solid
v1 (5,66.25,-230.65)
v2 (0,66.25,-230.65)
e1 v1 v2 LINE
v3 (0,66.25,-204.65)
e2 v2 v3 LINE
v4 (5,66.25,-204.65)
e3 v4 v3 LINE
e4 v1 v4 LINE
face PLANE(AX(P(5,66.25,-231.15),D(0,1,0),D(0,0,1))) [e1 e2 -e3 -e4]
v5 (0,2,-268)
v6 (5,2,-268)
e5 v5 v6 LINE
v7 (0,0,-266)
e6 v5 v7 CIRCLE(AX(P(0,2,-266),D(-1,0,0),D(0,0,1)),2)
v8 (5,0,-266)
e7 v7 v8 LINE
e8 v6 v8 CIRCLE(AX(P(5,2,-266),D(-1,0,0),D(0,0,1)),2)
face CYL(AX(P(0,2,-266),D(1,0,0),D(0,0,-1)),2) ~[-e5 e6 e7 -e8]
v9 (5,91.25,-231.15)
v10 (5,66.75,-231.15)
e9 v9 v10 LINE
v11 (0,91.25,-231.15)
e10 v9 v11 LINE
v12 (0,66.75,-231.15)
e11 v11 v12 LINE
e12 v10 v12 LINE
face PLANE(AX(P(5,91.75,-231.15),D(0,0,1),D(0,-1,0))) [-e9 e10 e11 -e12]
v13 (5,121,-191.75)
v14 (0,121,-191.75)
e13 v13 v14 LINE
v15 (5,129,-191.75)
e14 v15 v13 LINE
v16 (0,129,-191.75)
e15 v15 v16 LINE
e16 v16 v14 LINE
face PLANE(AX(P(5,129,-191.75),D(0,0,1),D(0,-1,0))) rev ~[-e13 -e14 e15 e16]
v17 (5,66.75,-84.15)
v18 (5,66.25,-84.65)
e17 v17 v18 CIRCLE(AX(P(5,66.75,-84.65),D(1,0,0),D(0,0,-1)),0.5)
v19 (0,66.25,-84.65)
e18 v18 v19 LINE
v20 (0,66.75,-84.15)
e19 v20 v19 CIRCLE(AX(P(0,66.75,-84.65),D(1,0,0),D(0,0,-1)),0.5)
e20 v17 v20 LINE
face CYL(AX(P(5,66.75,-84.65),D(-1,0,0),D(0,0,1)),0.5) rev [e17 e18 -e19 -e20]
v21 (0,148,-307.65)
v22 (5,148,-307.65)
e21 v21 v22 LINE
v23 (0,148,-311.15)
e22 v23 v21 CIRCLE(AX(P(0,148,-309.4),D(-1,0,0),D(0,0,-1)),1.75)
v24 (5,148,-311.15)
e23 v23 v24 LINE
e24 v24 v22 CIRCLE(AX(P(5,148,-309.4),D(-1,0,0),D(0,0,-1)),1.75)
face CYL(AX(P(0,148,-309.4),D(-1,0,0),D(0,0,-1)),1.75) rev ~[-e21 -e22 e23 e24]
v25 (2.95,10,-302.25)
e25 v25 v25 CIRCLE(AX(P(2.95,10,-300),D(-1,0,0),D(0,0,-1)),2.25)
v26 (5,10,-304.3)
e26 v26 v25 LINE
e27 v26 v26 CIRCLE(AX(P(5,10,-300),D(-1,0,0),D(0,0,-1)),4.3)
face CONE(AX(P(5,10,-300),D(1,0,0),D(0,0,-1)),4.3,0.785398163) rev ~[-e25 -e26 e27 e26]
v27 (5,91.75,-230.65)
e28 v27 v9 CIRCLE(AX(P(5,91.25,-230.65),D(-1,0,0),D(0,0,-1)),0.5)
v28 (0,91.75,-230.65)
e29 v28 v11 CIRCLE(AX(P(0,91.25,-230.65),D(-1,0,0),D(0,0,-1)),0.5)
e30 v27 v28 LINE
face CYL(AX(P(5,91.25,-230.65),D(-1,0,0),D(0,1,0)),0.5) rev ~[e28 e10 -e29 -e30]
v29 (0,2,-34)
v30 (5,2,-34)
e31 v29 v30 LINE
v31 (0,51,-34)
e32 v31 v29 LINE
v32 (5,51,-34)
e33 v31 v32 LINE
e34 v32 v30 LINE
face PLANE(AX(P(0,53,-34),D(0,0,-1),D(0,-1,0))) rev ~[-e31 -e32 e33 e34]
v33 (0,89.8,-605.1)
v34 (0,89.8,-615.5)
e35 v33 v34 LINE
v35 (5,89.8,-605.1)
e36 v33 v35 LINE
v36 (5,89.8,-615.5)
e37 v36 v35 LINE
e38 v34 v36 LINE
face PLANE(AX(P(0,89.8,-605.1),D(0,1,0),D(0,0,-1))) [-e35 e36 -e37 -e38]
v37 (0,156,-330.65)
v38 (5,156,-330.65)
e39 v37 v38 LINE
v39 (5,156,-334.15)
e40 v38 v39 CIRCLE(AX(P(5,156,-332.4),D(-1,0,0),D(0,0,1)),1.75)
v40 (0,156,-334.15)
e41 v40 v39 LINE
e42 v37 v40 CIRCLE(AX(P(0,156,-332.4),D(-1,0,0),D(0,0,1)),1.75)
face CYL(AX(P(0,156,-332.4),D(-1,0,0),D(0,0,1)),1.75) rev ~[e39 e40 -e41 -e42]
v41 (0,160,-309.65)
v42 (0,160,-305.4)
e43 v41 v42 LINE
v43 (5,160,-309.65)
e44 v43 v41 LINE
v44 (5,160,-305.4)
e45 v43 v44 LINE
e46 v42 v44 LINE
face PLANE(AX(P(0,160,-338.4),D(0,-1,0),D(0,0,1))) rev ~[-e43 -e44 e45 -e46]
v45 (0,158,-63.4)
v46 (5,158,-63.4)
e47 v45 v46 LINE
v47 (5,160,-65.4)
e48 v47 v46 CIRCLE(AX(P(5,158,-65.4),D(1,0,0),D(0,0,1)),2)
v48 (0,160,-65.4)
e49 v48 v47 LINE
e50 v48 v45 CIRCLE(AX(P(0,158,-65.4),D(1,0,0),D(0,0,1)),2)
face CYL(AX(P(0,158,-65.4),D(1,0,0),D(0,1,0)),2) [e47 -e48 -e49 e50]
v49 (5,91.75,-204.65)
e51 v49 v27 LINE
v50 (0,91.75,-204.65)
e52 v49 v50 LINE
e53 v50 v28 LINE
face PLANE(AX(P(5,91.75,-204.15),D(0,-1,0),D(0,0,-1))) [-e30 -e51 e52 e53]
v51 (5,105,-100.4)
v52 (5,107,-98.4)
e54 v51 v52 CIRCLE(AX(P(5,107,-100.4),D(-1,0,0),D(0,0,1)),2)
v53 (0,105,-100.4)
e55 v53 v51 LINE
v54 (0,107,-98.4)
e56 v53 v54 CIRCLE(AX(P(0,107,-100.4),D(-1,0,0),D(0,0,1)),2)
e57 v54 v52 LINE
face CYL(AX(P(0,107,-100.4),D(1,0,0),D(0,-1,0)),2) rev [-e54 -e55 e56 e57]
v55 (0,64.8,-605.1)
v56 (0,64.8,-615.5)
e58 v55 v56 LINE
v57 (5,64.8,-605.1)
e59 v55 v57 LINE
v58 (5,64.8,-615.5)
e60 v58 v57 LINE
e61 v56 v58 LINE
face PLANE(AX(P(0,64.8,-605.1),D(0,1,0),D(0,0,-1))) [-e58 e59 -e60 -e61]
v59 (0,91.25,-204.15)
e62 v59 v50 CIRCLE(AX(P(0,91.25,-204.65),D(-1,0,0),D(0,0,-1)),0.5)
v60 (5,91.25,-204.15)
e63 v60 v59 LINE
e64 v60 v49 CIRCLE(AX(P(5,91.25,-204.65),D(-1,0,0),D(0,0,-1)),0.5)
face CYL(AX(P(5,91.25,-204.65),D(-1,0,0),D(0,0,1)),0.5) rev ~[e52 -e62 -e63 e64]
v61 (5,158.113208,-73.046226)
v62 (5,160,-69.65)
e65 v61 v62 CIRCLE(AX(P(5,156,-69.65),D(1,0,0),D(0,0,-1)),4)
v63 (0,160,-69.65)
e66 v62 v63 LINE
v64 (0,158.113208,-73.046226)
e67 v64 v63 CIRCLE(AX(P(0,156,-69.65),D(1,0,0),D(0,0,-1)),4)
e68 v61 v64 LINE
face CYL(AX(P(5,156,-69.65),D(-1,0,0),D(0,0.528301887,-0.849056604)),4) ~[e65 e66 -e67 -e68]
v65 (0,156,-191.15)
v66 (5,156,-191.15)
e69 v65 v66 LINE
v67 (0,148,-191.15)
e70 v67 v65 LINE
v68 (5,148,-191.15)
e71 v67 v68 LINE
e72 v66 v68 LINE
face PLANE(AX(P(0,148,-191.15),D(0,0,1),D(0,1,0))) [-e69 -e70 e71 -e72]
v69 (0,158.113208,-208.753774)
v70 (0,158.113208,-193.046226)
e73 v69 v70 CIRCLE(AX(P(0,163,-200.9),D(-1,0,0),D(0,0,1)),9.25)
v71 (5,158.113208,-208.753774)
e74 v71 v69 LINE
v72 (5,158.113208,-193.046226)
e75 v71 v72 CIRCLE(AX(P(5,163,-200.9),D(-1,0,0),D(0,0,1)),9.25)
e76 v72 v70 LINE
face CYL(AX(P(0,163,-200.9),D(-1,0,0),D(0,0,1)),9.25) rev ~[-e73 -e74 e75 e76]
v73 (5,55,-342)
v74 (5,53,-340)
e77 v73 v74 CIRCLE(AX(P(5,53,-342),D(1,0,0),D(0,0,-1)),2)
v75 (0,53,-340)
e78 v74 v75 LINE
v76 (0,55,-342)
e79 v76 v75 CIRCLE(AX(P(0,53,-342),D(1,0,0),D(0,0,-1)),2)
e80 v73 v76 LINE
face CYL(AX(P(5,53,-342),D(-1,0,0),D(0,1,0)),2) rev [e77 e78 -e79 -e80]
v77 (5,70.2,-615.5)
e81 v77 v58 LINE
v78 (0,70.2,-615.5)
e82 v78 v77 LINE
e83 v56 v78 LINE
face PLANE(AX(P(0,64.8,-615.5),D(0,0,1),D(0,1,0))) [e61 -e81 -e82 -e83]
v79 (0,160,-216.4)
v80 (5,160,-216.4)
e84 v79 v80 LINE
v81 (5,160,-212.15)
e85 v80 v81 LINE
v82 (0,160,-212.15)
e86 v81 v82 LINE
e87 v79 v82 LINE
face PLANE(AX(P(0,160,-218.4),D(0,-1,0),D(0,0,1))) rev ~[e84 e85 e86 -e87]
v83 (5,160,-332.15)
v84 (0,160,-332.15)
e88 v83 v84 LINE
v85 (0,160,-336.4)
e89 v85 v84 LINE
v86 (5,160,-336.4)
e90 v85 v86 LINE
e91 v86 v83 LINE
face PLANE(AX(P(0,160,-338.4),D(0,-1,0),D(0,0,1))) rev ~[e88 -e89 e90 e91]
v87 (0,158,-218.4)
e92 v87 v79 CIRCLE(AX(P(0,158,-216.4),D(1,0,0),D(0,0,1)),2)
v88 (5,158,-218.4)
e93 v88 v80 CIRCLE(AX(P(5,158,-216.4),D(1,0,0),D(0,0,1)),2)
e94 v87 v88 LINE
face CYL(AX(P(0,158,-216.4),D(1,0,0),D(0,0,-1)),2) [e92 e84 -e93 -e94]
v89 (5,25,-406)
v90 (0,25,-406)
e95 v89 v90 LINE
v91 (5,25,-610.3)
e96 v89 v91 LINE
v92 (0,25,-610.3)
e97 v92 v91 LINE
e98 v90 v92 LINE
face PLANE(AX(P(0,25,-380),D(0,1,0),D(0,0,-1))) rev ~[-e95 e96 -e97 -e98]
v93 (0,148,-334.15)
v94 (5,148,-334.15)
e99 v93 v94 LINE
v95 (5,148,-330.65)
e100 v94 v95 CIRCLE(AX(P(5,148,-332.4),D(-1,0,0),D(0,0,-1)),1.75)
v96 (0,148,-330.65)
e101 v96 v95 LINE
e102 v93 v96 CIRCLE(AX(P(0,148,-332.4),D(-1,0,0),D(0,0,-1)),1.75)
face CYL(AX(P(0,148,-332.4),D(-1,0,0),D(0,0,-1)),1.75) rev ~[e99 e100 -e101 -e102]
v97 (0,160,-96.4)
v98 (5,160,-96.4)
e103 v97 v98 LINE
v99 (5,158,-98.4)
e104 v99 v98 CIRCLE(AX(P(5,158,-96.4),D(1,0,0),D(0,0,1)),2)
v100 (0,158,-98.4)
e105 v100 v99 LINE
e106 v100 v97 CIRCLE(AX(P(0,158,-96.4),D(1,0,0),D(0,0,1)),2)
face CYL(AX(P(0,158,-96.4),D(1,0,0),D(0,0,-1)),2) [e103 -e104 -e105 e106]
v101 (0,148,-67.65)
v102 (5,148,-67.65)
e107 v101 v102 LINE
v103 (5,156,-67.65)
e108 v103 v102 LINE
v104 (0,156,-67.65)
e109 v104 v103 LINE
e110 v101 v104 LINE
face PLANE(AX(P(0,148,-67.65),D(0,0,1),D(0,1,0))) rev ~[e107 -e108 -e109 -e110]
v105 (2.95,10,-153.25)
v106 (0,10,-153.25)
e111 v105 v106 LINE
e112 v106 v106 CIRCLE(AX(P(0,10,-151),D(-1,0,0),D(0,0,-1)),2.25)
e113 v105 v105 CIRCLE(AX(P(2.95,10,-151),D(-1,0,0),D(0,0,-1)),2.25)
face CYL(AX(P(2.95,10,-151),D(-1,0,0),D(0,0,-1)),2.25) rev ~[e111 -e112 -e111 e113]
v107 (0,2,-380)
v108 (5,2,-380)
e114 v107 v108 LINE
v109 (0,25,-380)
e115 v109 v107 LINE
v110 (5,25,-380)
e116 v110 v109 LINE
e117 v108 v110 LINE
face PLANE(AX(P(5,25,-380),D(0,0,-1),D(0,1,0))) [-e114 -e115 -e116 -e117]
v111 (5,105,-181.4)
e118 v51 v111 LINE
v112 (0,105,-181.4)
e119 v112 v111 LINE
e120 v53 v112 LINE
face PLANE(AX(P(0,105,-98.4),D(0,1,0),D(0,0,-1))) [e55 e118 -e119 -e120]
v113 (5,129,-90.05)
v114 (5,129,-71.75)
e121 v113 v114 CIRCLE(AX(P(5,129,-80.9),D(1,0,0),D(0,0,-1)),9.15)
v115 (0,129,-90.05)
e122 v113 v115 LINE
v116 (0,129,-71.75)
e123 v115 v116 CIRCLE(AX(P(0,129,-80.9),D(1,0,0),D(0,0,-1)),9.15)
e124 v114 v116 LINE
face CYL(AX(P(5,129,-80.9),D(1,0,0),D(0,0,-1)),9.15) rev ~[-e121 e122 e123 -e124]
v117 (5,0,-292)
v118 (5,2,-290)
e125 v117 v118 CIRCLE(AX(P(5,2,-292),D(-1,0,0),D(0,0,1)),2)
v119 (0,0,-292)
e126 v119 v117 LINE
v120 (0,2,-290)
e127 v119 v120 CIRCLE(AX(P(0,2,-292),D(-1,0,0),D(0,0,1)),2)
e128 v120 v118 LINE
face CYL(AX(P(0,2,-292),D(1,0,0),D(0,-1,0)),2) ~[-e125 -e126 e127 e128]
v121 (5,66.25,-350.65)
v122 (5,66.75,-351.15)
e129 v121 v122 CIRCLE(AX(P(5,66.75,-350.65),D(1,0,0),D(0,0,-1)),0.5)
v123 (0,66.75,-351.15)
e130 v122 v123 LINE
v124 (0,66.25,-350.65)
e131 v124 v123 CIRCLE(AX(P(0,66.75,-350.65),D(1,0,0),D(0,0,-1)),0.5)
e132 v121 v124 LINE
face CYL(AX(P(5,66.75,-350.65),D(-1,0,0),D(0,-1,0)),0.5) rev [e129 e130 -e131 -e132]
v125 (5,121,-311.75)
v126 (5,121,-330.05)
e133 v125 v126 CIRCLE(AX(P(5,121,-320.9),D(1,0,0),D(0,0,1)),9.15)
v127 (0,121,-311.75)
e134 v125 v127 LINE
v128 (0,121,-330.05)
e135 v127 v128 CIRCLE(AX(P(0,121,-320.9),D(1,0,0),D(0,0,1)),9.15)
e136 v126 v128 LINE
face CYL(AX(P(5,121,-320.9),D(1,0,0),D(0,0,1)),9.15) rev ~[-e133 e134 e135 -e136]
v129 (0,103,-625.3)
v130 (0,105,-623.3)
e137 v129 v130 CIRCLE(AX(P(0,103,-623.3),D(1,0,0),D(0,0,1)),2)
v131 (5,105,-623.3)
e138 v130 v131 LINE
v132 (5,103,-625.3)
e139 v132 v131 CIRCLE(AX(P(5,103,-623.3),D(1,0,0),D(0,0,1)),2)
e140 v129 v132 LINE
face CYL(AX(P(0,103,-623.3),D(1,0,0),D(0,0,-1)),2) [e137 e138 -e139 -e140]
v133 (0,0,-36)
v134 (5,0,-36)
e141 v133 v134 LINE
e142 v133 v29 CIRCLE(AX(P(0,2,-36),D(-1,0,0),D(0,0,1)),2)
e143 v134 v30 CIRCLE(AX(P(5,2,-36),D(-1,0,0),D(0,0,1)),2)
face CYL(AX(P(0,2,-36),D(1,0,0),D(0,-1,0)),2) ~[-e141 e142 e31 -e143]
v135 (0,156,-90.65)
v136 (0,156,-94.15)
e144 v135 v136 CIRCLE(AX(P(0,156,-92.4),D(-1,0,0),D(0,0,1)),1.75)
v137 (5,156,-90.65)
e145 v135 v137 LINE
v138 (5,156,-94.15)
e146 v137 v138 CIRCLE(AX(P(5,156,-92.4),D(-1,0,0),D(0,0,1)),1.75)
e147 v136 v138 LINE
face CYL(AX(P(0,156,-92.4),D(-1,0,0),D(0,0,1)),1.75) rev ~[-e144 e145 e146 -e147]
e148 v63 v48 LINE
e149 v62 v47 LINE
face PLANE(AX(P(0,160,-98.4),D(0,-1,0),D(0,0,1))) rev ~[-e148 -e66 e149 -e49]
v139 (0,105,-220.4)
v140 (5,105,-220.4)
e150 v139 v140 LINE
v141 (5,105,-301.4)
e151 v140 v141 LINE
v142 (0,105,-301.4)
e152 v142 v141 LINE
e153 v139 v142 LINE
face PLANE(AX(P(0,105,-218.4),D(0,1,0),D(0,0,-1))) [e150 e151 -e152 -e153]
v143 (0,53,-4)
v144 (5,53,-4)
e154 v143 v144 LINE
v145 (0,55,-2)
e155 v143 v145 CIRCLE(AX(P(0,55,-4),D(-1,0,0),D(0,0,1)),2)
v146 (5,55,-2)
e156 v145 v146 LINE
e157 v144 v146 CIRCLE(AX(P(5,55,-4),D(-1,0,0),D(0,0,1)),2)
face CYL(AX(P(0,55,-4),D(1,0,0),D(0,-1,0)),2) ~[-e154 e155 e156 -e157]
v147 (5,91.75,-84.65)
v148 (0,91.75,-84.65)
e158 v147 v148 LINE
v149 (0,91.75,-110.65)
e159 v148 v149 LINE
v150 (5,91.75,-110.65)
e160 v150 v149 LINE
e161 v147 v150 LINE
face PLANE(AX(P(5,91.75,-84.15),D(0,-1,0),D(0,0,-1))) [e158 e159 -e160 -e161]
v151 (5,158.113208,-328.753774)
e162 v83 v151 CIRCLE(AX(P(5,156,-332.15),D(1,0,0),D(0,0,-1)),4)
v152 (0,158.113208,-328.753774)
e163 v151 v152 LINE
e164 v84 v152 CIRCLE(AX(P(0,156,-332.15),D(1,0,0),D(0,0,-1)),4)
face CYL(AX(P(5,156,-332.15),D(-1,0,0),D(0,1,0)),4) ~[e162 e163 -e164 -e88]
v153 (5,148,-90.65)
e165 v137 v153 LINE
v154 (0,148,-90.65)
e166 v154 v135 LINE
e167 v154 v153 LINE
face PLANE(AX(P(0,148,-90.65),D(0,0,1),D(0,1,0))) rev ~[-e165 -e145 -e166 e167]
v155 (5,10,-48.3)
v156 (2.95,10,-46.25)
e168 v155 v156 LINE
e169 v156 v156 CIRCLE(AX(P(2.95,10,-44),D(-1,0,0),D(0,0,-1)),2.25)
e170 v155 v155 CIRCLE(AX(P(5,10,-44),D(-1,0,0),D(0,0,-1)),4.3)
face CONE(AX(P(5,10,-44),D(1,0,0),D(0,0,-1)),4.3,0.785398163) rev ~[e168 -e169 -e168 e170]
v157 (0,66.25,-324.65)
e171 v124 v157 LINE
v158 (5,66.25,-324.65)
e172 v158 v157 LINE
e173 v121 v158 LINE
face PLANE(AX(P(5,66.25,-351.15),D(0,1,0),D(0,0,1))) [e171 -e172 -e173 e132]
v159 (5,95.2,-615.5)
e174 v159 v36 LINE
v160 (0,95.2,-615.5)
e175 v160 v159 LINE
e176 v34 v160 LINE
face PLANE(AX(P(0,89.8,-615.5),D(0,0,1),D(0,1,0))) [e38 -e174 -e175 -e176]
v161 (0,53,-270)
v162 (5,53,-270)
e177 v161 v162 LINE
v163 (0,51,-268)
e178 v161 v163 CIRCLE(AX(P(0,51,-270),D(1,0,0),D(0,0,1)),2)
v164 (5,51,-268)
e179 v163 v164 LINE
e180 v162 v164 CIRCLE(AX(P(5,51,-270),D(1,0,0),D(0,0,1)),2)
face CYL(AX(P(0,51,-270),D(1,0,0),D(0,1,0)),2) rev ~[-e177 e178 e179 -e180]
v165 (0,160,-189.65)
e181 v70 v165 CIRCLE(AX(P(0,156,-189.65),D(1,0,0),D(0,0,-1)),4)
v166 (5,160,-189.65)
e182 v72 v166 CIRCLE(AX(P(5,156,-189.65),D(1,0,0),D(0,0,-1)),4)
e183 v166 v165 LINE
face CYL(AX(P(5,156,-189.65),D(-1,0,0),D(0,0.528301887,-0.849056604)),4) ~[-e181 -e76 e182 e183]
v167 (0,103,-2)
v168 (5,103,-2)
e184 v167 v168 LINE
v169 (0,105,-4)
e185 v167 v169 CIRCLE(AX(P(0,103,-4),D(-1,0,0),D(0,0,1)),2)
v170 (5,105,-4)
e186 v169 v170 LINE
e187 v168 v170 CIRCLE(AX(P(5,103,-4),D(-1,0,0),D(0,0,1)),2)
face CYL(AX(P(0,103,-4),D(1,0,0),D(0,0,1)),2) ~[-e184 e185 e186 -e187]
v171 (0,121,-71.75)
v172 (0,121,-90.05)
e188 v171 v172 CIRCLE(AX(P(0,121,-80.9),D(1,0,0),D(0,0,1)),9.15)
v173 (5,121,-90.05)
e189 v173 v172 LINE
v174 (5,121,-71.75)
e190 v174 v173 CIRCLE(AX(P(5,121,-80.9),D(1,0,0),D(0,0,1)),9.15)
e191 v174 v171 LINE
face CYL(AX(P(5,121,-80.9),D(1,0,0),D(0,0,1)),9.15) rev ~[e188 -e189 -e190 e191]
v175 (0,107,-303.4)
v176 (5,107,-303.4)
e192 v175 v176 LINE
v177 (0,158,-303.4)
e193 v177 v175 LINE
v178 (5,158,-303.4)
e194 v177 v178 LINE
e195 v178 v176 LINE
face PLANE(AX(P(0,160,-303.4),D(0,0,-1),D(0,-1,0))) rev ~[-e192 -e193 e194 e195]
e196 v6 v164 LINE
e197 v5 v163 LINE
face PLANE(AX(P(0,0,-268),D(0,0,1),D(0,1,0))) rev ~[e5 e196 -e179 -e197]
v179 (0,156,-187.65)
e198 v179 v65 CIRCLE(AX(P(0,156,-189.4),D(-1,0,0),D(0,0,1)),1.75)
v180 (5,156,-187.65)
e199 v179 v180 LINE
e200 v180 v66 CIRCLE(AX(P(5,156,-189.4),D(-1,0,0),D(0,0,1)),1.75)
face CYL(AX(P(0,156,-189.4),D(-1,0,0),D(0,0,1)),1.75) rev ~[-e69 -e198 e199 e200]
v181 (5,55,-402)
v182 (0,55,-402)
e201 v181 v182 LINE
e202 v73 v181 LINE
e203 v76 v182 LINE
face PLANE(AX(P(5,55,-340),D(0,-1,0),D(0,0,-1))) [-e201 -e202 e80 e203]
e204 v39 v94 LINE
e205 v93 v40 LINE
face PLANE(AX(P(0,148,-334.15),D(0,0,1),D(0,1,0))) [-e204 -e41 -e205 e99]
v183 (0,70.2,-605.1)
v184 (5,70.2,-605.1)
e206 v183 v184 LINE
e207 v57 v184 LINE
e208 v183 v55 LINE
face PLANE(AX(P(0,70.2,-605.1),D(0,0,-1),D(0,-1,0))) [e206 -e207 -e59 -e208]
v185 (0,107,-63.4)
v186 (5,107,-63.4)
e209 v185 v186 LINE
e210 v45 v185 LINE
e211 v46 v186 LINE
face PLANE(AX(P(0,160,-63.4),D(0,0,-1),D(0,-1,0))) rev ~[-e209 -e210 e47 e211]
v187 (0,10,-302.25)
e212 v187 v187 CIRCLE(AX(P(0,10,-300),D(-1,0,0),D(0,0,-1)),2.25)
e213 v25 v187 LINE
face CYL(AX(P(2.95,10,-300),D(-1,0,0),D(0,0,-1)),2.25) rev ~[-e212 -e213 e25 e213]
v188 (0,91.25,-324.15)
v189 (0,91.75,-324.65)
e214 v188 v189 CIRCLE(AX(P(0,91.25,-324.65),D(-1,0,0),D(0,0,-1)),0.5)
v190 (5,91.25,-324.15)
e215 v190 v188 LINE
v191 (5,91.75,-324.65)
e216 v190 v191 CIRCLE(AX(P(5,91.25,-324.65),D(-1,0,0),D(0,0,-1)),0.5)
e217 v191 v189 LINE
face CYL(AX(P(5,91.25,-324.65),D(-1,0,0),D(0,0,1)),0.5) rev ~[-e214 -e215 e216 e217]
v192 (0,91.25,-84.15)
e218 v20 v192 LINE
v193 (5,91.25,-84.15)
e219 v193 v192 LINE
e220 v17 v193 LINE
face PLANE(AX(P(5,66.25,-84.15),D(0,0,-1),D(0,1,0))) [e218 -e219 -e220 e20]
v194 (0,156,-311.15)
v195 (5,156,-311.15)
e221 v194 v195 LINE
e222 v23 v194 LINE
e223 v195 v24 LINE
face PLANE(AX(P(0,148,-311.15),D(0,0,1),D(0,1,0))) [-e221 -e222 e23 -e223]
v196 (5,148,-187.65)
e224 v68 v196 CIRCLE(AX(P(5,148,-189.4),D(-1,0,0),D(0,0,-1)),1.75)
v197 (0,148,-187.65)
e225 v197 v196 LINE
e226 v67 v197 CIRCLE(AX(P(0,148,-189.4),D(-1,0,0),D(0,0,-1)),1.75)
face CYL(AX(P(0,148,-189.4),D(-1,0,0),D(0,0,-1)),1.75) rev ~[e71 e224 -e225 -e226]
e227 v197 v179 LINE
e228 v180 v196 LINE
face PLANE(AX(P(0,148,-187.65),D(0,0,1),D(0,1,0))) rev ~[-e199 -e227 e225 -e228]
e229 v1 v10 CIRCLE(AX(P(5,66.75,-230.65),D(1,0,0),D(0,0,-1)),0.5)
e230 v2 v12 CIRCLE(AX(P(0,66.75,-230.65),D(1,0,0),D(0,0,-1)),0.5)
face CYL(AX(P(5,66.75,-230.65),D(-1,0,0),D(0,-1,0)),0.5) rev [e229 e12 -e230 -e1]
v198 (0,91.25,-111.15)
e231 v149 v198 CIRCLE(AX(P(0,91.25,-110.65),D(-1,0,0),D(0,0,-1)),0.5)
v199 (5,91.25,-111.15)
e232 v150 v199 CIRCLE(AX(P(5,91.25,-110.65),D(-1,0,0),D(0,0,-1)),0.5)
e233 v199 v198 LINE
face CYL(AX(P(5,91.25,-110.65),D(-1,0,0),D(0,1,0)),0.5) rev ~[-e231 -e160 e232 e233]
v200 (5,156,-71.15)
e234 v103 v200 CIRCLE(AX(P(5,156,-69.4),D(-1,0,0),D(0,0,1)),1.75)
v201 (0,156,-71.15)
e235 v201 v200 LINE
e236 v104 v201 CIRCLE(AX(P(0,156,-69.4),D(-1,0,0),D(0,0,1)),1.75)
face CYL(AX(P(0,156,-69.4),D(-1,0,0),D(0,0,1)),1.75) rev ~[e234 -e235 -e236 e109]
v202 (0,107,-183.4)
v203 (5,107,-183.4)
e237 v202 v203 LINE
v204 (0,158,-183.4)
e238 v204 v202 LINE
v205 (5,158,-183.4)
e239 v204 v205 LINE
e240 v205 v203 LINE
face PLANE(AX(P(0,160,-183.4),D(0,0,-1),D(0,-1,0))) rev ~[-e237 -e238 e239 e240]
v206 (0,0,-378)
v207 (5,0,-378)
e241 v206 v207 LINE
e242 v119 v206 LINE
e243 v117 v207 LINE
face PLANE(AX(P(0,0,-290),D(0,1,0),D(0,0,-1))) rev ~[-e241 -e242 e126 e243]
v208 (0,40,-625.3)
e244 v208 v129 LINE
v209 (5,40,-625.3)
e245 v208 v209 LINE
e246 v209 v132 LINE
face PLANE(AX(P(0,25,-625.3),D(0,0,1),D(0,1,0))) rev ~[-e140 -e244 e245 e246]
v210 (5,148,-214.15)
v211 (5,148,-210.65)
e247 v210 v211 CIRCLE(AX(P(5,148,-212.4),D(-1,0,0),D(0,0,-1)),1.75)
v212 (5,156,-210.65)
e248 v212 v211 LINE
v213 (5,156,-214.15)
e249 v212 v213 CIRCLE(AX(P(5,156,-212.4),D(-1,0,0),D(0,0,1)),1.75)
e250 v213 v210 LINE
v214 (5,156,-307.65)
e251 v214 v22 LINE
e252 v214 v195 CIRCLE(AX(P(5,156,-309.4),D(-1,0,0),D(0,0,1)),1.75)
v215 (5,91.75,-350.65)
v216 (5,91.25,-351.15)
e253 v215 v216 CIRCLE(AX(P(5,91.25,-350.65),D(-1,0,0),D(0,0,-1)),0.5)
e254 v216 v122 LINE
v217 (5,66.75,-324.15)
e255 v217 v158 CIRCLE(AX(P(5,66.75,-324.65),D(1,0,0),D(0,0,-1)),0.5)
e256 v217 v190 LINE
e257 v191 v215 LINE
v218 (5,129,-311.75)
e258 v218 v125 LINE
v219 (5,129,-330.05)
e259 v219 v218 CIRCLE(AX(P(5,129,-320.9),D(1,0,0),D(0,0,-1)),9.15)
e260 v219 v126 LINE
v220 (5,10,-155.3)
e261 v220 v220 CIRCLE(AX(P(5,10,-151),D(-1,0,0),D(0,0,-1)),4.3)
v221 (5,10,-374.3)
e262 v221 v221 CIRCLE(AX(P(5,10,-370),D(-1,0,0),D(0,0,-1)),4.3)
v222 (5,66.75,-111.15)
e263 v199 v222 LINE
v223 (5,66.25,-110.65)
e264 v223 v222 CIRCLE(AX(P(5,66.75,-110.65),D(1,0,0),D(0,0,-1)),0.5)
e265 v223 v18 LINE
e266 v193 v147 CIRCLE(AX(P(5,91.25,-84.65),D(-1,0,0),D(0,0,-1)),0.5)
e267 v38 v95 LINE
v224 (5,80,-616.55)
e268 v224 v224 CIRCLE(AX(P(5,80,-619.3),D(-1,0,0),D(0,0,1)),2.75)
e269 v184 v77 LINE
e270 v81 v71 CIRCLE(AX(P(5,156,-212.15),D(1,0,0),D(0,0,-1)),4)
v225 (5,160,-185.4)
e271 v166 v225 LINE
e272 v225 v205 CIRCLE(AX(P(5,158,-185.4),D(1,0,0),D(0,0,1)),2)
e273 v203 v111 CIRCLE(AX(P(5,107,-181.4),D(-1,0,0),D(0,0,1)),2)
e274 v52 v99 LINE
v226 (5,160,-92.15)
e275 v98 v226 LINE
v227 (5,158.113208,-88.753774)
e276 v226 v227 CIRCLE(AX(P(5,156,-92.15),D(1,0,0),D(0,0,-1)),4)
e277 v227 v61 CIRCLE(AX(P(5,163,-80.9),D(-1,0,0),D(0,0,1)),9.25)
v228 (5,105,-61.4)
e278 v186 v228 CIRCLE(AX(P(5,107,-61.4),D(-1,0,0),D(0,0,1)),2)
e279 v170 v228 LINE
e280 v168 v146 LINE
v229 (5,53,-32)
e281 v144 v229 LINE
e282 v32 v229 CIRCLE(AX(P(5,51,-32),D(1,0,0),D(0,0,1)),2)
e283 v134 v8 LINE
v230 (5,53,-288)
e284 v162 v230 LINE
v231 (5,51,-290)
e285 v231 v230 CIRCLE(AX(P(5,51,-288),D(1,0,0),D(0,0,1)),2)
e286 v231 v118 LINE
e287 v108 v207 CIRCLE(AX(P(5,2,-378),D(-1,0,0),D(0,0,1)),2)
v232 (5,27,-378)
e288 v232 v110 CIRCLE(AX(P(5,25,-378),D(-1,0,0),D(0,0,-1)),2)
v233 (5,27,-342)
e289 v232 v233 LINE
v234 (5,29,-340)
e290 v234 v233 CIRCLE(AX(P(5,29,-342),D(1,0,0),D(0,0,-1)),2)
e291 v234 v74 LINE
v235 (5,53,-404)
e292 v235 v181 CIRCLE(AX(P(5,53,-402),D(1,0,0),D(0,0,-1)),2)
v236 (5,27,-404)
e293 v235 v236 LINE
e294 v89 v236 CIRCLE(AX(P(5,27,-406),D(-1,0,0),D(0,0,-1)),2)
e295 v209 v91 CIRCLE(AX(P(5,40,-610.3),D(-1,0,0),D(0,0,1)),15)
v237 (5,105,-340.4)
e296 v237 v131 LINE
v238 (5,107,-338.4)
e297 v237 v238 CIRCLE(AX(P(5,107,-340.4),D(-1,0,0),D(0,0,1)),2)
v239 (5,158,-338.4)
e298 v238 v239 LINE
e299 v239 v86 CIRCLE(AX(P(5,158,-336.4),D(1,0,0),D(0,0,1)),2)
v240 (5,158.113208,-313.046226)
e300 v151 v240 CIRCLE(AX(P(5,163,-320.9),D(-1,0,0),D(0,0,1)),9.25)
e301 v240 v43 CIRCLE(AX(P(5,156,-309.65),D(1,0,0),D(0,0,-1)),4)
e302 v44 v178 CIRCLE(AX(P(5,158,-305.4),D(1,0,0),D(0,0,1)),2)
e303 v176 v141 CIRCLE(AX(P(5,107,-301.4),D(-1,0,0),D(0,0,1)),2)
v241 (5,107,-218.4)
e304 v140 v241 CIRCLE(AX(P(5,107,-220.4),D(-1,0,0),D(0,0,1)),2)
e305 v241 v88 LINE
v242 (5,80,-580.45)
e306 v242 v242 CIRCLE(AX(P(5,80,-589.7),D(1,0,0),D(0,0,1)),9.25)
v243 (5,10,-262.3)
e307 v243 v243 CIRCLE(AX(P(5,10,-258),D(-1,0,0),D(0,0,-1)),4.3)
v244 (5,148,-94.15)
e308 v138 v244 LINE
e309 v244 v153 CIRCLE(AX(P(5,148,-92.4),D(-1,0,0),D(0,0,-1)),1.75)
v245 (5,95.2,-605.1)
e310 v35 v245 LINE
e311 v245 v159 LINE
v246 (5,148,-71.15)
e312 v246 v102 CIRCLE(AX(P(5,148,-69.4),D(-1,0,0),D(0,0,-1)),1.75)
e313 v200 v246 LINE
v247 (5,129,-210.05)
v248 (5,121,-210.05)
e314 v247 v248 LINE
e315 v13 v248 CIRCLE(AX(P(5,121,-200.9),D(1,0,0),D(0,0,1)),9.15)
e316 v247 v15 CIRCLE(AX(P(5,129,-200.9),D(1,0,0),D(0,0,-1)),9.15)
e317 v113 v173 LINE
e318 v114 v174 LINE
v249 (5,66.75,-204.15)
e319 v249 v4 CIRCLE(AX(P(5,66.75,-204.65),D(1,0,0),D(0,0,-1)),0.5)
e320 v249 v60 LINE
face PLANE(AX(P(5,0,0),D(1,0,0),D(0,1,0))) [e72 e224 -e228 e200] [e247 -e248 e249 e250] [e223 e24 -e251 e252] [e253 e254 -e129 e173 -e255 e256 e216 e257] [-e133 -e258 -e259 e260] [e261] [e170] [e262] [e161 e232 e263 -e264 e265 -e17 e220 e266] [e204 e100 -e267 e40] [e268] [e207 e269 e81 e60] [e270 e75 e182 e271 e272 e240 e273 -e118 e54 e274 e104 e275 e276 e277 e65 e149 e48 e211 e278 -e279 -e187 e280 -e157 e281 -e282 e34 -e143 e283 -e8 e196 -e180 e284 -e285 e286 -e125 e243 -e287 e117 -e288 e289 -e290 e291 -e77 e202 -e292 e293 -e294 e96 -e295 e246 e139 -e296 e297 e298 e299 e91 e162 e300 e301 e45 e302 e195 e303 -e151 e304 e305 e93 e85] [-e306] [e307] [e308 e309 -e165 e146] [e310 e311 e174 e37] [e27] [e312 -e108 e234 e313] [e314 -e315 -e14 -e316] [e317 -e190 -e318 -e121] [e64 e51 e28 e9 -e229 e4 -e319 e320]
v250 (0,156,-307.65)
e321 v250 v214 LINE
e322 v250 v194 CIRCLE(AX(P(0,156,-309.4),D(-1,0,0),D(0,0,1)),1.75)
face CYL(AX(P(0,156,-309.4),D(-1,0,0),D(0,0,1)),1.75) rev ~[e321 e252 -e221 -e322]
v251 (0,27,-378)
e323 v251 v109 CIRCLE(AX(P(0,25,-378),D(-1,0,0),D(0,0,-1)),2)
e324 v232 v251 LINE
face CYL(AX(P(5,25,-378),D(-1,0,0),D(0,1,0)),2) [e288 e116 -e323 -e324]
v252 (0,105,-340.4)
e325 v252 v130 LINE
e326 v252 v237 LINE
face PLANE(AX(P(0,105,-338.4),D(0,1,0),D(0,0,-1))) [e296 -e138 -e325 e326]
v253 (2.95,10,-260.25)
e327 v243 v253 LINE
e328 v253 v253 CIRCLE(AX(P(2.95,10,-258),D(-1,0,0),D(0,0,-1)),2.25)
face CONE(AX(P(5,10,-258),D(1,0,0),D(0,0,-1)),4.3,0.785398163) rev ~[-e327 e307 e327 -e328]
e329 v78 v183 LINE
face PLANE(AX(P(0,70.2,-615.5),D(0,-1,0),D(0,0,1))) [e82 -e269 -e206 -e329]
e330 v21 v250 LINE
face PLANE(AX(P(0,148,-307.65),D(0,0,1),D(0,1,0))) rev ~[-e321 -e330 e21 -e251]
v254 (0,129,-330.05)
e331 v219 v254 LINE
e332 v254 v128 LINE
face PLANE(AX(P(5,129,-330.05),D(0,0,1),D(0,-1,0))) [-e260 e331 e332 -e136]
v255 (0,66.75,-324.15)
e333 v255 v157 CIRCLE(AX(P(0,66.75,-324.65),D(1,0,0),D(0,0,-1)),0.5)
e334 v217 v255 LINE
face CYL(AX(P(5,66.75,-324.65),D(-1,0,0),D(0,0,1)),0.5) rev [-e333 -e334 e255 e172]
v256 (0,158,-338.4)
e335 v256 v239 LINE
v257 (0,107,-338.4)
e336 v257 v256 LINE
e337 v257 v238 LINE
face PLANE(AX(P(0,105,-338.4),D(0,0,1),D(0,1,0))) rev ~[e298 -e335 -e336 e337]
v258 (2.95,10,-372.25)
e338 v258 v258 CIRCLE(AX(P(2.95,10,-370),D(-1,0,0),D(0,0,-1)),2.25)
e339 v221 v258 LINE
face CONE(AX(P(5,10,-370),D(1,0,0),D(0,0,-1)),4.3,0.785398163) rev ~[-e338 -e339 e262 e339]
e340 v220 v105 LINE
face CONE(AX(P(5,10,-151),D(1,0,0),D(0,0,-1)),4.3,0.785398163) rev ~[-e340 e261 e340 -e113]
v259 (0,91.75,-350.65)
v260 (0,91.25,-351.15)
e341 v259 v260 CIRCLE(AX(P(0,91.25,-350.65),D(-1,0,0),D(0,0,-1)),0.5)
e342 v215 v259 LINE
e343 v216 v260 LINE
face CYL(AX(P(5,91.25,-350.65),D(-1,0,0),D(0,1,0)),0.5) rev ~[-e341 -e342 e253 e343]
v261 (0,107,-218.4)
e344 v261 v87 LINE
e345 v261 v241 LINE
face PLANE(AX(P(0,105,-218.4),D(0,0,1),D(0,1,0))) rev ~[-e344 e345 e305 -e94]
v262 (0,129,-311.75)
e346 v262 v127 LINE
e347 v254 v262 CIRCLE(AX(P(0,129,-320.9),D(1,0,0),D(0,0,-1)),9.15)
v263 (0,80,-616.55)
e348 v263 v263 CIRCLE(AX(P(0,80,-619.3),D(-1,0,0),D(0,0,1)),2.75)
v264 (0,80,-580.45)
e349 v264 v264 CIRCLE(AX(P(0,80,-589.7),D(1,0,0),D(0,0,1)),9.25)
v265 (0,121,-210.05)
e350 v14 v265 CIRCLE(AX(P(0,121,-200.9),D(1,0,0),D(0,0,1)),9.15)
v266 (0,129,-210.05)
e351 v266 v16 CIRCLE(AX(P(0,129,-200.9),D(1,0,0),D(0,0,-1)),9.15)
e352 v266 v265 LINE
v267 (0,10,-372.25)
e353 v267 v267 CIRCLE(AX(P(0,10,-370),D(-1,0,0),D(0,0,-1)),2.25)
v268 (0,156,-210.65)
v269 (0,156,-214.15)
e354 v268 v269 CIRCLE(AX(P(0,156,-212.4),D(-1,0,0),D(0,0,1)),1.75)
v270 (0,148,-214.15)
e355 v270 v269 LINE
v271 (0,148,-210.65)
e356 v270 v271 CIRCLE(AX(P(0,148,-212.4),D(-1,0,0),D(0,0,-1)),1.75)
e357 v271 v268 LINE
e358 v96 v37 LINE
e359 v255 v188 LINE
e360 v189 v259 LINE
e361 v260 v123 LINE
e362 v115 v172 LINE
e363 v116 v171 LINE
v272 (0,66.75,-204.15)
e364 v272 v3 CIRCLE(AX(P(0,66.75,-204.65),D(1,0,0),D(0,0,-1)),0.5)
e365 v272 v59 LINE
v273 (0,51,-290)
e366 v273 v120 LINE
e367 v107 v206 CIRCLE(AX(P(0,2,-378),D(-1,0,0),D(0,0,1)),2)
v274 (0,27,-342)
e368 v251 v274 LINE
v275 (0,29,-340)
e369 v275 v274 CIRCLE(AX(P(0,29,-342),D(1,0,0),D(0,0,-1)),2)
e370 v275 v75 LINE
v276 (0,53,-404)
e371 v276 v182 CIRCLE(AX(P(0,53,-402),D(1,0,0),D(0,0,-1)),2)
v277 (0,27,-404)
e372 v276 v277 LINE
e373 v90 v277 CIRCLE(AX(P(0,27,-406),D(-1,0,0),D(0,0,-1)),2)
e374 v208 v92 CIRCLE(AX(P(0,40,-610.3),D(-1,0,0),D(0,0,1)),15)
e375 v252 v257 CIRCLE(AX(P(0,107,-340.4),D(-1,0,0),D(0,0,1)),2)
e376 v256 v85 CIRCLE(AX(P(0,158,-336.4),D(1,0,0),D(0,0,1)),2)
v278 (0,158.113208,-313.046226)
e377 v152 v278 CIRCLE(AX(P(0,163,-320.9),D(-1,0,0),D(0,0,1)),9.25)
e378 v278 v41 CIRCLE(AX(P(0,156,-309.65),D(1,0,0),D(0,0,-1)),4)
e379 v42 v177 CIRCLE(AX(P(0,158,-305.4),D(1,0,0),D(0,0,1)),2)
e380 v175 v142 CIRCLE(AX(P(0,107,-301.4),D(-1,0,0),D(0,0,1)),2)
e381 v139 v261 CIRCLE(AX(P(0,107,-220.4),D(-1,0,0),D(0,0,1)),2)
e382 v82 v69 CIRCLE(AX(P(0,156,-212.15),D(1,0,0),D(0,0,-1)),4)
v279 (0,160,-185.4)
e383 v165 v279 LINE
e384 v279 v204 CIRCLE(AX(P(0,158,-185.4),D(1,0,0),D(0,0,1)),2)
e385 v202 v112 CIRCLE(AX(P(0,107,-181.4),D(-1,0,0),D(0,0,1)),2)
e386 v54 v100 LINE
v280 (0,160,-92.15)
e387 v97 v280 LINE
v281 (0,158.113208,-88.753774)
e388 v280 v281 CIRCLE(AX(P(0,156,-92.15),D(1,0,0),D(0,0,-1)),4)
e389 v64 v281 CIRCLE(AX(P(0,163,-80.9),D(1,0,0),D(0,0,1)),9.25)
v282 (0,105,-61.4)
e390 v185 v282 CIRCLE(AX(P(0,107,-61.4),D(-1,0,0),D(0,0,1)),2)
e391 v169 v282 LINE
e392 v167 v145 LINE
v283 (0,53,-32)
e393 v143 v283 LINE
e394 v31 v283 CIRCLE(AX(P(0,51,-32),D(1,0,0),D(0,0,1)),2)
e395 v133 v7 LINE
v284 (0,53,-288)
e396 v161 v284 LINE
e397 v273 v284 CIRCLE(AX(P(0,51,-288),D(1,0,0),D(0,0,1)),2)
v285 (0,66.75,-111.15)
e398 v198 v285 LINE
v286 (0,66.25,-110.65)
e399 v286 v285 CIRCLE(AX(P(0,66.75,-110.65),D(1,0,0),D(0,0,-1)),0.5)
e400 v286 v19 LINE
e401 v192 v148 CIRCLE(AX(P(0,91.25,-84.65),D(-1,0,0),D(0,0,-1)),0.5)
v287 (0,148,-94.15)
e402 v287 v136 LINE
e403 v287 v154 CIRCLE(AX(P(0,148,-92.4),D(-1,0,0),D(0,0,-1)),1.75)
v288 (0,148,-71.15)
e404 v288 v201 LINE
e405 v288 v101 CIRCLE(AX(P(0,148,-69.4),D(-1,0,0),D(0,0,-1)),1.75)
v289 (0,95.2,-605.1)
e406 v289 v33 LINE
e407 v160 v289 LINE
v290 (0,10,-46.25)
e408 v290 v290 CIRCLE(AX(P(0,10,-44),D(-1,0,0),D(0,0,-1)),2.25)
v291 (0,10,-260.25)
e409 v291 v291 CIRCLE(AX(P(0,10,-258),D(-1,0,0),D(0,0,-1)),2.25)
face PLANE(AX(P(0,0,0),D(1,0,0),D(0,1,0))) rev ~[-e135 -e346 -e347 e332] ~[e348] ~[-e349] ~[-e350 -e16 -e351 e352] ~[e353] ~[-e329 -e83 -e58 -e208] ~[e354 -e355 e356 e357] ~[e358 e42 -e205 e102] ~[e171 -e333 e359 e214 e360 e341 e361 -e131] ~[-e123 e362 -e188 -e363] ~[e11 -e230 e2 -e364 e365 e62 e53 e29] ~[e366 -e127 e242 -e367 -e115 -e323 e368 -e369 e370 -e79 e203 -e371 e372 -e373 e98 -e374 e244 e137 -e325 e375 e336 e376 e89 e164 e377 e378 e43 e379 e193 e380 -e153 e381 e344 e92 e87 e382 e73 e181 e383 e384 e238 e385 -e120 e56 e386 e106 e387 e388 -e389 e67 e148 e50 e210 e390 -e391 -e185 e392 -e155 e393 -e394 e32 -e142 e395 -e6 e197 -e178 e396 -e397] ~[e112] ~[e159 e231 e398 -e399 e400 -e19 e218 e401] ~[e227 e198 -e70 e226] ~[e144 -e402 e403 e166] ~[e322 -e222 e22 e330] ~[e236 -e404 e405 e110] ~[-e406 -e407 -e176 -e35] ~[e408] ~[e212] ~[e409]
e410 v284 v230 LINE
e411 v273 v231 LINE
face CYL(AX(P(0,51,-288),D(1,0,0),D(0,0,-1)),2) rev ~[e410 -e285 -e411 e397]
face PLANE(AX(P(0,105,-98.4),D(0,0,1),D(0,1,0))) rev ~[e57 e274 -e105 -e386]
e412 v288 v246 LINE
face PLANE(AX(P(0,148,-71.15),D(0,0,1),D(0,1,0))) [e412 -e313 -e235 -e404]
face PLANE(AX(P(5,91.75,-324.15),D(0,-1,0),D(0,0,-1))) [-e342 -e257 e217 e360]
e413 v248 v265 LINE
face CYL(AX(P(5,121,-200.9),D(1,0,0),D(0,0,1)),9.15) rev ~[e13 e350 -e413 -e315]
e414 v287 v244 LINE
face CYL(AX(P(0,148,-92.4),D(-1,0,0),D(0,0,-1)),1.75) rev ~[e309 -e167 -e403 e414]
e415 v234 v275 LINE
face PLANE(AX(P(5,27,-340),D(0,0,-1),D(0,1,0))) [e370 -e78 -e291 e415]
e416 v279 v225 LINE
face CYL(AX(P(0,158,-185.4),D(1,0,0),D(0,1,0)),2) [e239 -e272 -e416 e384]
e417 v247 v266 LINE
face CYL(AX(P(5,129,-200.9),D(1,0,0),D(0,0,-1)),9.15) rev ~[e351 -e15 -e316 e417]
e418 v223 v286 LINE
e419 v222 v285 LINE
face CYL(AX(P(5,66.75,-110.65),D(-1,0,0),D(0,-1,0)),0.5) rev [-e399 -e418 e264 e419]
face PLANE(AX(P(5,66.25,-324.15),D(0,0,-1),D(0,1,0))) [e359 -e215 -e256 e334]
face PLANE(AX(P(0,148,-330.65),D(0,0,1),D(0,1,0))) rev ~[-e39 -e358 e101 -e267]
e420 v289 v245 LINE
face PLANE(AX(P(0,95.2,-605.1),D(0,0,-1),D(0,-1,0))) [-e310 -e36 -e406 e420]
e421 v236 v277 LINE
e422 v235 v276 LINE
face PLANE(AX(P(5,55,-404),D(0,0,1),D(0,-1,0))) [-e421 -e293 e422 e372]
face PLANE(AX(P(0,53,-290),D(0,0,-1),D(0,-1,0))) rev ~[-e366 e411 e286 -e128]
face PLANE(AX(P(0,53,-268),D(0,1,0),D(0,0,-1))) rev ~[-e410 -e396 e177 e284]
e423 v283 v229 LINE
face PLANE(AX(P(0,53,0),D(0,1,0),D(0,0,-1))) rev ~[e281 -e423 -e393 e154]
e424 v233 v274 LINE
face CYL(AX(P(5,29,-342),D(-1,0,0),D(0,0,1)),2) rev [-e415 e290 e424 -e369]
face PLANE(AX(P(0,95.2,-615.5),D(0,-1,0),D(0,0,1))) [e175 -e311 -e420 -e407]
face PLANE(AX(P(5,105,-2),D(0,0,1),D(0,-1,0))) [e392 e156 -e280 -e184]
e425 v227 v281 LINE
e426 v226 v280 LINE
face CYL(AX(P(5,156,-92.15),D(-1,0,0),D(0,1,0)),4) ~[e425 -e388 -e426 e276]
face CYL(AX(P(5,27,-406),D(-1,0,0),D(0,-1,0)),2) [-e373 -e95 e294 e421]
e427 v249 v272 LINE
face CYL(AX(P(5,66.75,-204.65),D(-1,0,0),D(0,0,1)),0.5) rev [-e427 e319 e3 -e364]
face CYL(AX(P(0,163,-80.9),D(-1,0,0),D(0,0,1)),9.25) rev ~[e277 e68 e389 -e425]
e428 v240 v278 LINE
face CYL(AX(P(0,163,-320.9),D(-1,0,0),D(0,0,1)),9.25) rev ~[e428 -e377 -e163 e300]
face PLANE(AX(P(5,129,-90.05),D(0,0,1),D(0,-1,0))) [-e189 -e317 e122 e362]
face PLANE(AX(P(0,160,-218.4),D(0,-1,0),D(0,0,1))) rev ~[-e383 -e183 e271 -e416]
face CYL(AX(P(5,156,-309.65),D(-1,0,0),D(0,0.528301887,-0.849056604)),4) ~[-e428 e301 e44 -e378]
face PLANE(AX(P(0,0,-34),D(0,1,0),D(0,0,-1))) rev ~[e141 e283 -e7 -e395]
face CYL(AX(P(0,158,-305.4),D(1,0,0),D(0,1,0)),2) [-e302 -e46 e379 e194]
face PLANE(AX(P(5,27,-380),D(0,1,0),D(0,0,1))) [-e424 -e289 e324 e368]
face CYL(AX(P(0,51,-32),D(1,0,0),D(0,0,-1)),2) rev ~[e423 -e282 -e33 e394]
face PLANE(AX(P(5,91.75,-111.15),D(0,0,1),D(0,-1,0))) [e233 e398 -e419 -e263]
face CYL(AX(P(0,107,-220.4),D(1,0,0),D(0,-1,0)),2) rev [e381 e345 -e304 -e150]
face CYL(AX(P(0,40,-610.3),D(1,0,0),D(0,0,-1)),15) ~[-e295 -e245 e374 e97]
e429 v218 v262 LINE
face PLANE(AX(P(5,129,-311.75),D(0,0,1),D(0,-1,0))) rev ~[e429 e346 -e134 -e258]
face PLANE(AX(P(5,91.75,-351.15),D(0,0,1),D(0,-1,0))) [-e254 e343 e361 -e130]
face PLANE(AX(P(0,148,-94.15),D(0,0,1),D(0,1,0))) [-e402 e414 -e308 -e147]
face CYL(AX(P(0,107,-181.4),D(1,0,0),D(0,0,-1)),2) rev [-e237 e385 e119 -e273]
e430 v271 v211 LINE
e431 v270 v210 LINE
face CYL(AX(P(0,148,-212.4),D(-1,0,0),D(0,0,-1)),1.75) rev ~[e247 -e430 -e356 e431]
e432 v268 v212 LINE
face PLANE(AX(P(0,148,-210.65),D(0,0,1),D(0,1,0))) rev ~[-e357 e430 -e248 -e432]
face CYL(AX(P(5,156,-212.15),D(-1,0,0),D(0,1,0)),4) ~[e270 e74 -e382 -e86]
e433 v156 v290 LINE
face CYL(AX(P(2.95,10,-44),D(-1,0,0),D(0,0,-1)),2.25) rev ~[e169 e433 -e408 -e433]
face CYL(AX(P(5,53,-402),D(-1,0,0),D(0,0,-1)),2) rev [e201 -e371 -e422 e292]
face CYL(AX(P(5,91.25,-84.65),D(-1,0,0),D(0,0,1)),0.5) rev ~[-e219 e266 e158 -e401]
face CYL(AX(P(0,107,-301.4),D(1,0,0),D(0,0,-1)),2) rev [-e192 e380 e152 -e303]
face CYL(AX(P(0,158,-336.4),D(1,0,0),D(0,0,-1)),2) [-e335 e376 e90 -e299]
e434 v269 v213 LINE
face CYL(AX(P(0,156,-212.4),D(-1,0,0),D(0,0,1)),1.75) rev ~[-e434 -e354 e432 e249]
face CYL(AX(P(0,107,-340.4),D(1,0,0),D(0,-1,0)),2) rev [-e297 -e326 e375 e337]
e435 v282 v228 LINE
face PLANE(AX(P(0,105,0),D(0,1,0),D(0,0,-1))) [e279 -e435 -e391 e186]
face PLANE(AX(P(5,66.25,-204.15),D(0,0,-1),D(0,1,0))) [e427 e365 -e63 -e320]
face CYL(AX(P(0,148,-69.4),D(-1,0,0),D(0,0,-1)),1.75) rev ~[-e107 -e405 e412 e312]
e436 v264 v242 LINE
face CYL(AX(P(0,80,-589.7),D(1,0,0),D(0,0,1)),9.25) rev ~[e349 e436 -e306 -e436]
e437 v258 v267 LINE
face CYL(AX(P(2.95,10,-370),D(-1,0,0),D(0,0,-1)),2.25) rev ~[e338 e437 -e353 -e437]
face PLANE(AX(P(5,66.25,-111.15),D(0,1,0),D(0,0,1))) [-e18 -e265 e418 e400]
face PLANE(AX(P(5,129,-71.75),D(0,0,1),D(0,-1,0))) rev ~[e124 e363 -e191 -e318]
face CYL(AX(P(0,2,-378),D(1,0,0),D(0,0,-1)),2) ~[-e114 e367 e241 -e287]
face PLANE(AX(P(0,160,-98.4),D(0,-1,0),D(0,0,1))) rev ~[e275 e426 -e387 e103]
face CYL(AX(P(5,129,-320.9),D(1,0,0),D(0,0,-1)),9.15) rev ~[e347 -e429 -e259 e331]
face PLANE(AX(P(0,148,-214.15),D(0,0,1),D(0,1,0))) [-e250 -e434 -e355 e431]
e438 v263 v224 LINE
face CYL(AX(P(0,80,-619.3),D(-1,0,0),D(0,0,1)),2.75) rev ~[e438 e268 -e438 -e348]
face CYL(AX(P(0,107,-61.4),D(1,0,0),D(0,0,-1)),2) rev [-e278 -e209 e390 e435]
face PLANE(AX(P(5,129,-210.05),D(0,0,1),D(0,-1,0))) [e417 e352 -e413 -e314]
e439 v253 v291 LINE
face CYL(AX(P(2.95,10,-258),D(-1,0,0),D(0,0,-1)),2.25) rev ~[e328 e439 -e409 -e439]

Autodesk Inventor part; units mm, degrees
ref_plane "YZ Plane" through (0, 0, 0) normal (1, 0, 0) x (0, 1, 0)
ref_plane "XZ Plane" through (0, 0, 0) normal (0, 1, 0) x (-1, 0, 0)
ref_plane "XY Plane" through (0, 0, 0) normal (0, 0, 1) x (1, 0, 0)
sketch "Skizze1" plane through (0, 0, 0) normal (1, 0, 0) x (0, 1, 0)
  line L0 (105, 0) -> (53, 0)
  line L1 (53, 0) -> (53, -34)
  line L2 (53, -34) -> (0, -34)
  line L3 (0, -34) -> (0, -268)
  line L4 (0, -268) -> (53, -268)
  line L5 (53, -268) -> (53, -290)
  line L6 (53, -290) -> (0, -290)
  line L7 (25, -380) -> (25, -625.3)
  line L8 (25, -625.3) -> (105, -625.3)
  line L9 (0, -290) -> (0, -380)
  line L10 (0, -380) -> (25, -380)
  line L11 (160, -63.4) -> (105, -63.4)
  line L12 (105, -98.4) -> (160, -98.4)
  line L13 (160, -98.4) -> (160, -63.4)
  line L14 (105, 0) -> (105, -63.4)
  line L15 (160, -183.4) -> (105, -183.4)
  line L16 (105, -218.4) -> (160, -218.4)
  line L17 (160, -218.4) -> (160, -183.4)
  line L18 (160, -303.4) -> (105, -303.4)
  line L19 (105, -338.4) -> (160, -338.4)
  line L20 (160, -338.4) -> (160, -303.4)
  line L21 (105, -98.4) -> (105, -183.4)
  line L22 (105, -218.4) -> (105, -303.4)
  line L23 (105, -338.4) -> (105, -625.3)
  point P0 (0, 0)
  dimension "d0" = 53
  dimension "d1" = 34
  dimension "d2" = 52
  dimension "d3" = 234
  dimension "d4" = 22
  dimension "d6" = 335.3
  dimension "d21" = 90
  dimension "d22" = 25
  dimension "d34" = 35
  dimension "d35" = 63.4
  dimension "d36" = 55
  dimension "d53" = 120
extrude "Extrusion1" add sketch "Skizze1" along normal blind 5
fillet "Rundung1" radius 15 1 edges at (2.5, 25, -625.3)
sketch "Skizze2" plane through (5, 0, 0) normal (1, 0, 0) x (0, 0, -1)
  line L0 (34, 0) -> (268, 0) projected
  line L1 (34, 53) -> (34, 0) projected
  line L2 (290, 53) -> (290, 0) projected
  line L3 (380, 0) -> (380, 25) projected
  line L4 (268, 0) -> (268, 53) projected
  point P0 (0, 0)
  point P1 (44, 10)
  point P2 (151, 10)
  point P3 (258, 10)
  point P4 (300, 10)
  point P5 (370, 10)
  point P6 (300, 10)
  point P7 (370, 10)
  dimension "d10" = 10
  dimension "d11" = 10
  dimension "d12" = 107
  dimension "d13" = 107
  dimension "d58" = 10
  dimension "d59" = 10
  dimension "d204" = 10
hole "Bohrung1" at (5, 10, -44) at (5, 10, -151) at (5, 10, -258) at (5, 10, -300) at (5, 10, -370) direction (-1, 0, 0) diameter 4.5 end through all countersink diameter 8.6 countersink angle 90
sketch "Skizze5" plane through (5, 0, 0) normal (1, 0, 0) x (0, 0, -1)
  line L0 (340, 55) -> (404, 55)
  line L1 (380, 27) -> (340, 27)
  line L2 (340, 27) -> (340, 55)
  line L3 (290, 53) -> (290, 0) projected
  line L4 (380, 25) -> (610.3, 25) projected
  line L5 (380, 0) -> (380, 25) projected
  line L6 (380, 25) -> (380, 27)
  line L7 (404, 55) -> (404, 25)
  line L8 (380, 25) -> (404, 25)
  point P0 (0, 0)
  dimension "d65" = 2
  dimension "d172" = 30
  dimension "d173" = 24
  dimension "d174" = 64
extrude "Extrusion2" cut sketch "Skizze5" against normal through all
sketch "Skizze6" plane through (5, 0, 0) normal (1, 0, 0) x (0, 0, -1)
  line L0 (84.15, 91.75) -> (111.15, 91.75)
  line L1 (111.15, 91.75) -> (111.15, 66.25)
  line L2 (111.15, 66.25) -> (84.15, 66.25)
  line L3 (84.15, 66.25) -> (84.15, 91.75)
  line L4 (84.15, 91.75) -> (111.15, 66.25) construction
  line L5 (111.15, 91.75) -> (84.15, 66.25) construction
  line L6 (183.4, 105) -> (98.4, 105) projected
  line L7 (98.4, 105) -> (98.4, 160) projected
  line L8 (204.15, 91.75) -> (231.15, 91.75)
  line L9 (231.15, 91.75) -> (231.15, 66.25)
  line L10 (231.15, 66.25) -> (204.15, 66.25)
  line L11 (204.15, 66.25) -> (204.15, 91.75)
  line L12 (204.15, 91.75) -> (231.15, 66.25) construction
  line L13 (231.15, 91.75) -> (204.15, 66.25) construction
  line L14 (324.15, 91.75) -> (351.15, 91.75)
  line L15 (351.15, 91.75) -> (351.15, 66.25)
  line L16 (351.15, 66.25) -> (324.15, 66.25)
  line L17 (324.15, 66.25) -> (324.15, 91.75)
  line L18 (324.15, 91.75) -> (351.15, 66.25) construction
  line L19 (351.15, 91.75) -> (324.15, 66.25) construction
  point P0 (0, 0)
  point P1 (97.65, 79)
  point P2 (217.65, 79)
  point P3 (337.65, 79)
  dimension "d68" = 27
  dimension "d69" = 25.5
  dimension "d70" = 26
  dimension "d79" = 120
  dimension "d202" = 0.75
extrude "Extrusion3" cut sketch "Skizze6" against normal blind 5
sketch "Skizze7" plane through (5, 0, 0) normal (1, 0, 0) x (0, 0, -1)
  arc A0 (90.05, 129) -> (71.75, 129) centre (80.9, 129) ccw
  line L0 (63.4, 160) -> (63.4, 105) projected
  line L1 (63.4, 105) -> (0, 105) projected
  arc A1 (71.75, 121) -> (90.05, 121) centre (80.9, 121) ccw
  line L2 (90.05, 129) -> (90.05, 121)
  line L3 (71.75, 129) -> (71.75, 121)
  arc A2 (210.05, 129) -> (191.75, 129) centre (200.9, 129) ccw
  arc A3 (191.75, 121) -> (210.05, 121) centre (200.9, 121) ccw
  line L4 (210.05, 129) -> (210.05, 121)
  line L5 (191.75, 129) -> (191.75, 121)
  arc A4 (330.05, 129) -> (311.75, 129) centre (320.9, 129) ccw
  arc A5 (311.75, 121) -> (330.05, 121) centre (320.9, 121) ccw
  line L6 (330.05, 129) -> (330.05, 121)
  line L7 (311.75, 129) -> (311.75, 121)
  point P0 (0, 0)
  dimension "d85" = 17.5
  dimension "d89" = 24
  dimension "d132" = 18.3
  dimension "d133" = 8
  dimension "d143" = 120
extrude "Extrusion4" cut sketch "Skizze7" against normal through all
fillet "Rundung2" radius 2 15 edges at (2.5, 53, -34) (2.5, 53, -268) (2.5, 53, -290) (2.5, 55, -340) (2.5, 27, -340) (2.5, 55, -404) (2.5, 53, 0) (2.5, 105, 0) (2.5, 0, -34) (2.5, 0, -268) (2.5, 0, -290) (2.5, 0, -380) (2.5, 105, -625.3) (2.5, 27, -380) (2.5, 25, -404)
fillet "Rundung2" radius 2 12 edges at (2.5, 105, -338.4) (2.5, 160, -338.4) (2.5, 160, -303.4) (2.5, 105, -303.4) (2.5, 105, -218.4) (2.5, 160, -218.4) (2.5, 160, -183.4) (2.5, 105, -183.4) (2.5, 105, -98.4) (2.5, 160, -98.4) (2.5, 160, -63.4) (2.5, 105, -63.4)
sketch "Skizze9" plane through (0, 0, 0) normal (-1, 0, 0) x (0, 0, 1)
  arc A0 (-90.65, 156) -> (-94.15, 156) centre (-92.4, 156) ccw
  arc A1 (-71.75, 129) -> (-90.05, 129) centre (-80.9, 129) ccw projected
  arc A2 (-94.15, 148) -> (-90.65, 148) centre (-92.4, 148) ccw
  line L0 (-94.15, 148) -> (-94.15, 156)
  line L1 (-90.65, 148) -> (-90.65, 156)
  line L2 (-80.9, 129) -> (-80.9, 159.9245)
  arc A3 (-67.65, 156) -> (-71.15, 156) centre (-69.4, 156) ccw
  arc A4 (-71.15, 148) -> (-67.65, 148) centre (-69.4, 148) ccw
  line L3 (-67.65, 148) -> (-67.65, 156)
  line L4 (-71.15, 148) -> (-71.15, 156)
  line L5 (-96.4, 160) -> (-65.4, 160) projected
  arc A5 (-191.15, 148) -> (-187.65, 148) centre (-189.4, 148) ccw
  line L6 (-187.65, 148) -> (-187.65, 156)
  line L7 (-191.15, 148) -> (-191.15, 156)
  line L8 (-214.15, 148) -> (-214.15, 156)
  arc A6 (-214.15, 148) -> (-210.65, 148) centre (-212.4, 148) ccw
  arc A7 (-187.65, 156) -> (-191.15, 156) centre (-189.4, 156) ccw
  arc A8 (-210.65, 156) -> (-214.15, 156) centre (-212.4, 156) ccw
  line L9 (-210.65, 148) -> (-210.65, 156)
  arc A9 (-311.15, 148) -> (-307.65, 148) centre (-309.4, 148) ccw
  line L10 (-307.65, 148) -> (-307.65, 156)
  line L11 (-311.15, 148) -> (-311.15, 156)
  line L12 (-334.15, 148) -> (-334.15, 156)
  arc A10 (-334.15, 148) -> (-330.65, 148) centre (-332.4, 148) ccw
  arc A11 (-307.65, 156) -> (-311.15, 156) centre (-309.4, 156) ccw
  arc A12 (-330.65, 156) -> (-334.15, 156) centre (-332.4, 156) ccw
  line L13 (-330.65, 148) -> (-330.65, 156)
  point P0 (0, 0)
  point P1 (-200.9, 159.9245)
  point P2 (-185.4, 160)
  point P3 (-216.4, 160)
  point P4 (-320.9, 159.9245)
  point P5 (-305.4, 160)
  point P6 (-336.4, 160)
  dimension "d148" = 3.5
  dimension "d149" = 27
  dimension "d150" = 11.5
  dimension "d151" = 8
  dimension "d154" = 120
extrude "Extrusion5" cut sketch "Skizze9" against normal through all
sketch "Skizze10" plane through (0, 0, 0) normal (-1, 0, 0) x (0, 0, 1)
  arc A0 (-71.75, 129) -> (-90.05, 129) centre (-80.9, 129) ccw projected
  line L0 (-80.9, 129) -> (-80.9, 163)
  line L1 (-96.4, 160) -> (-65.4, 160) projected
  circle A1 centre (-80.9, 163) radius 9.25
  circle A2 centre (-200.9, 163) radius 9.25
  circle A3 centre (-320.9, 163) radius 9.25
  point P0 (0, 0)
  dimension "d161" = 3
  dimension "d162" = 18.5
  dimension "d165" = 120
extrude "Extrusion6" cut sketch "Skizze10" against normal through all
sketch "Skizze11" plane through (0, 0, 0) normal (-1, 0, 0) x (0, 0, 1)
  line L0 (-615.5, 95.2) -> (-605.1, 95.2)
  line L1 (-605.1, 95.2) -> (-605.1, 89.8)
  line L2 (-605.1, 89.8) -> (-615.5, 89.8)
  line L3 (-615.5, 89.8) -> (-615.5, 95.2)
  line L4 (-625.3, 40) -> (-625.3, 103) projected
  line L5 (-623.3, 105) -> (-340.4, 105) projected
  line L6 (-615.5, 70.2) -> (-605.1, 70.2)
  line L7 (-605.1, 70.2) -> (-605.1, 64.8)
  line L8 (-605.1, 64.8) -> (-615.5, 64.8)
  line L9 (-615.5, 64.8) -> (-615.5, 70.2)
  circle A0 centre (-619.3, 80) radius 2.75
  point P0 (0, 0)
  point P1 (-625.3, 78)
  dimension "d176" = 5.4
  dimension "d177" = 10.4
  dimension "d178" = 9.8
  dimension "d179" = 15.2
  dimension "d182" = 25
  dimension "d187" = 9.8
  dimension "d188" = 6
  dimension "d189" = 5.5
extrude "Extrusion7" cut sketch "Skizze11" against normal through all
fillet "Rundung3" radius 4 6 edges at (2.5, 160, -329.65) (2.5, 160, -312.15) (2.5, 160, -209.65) (2.5, 160, -192.15) (2.5, 160, -89.65) (2.5, 160, -72.15)
sketch "Skizze12" plane through (0, 0, 0) normal (-1, 0, 0) x (0, 0, 1)
  line L0 (-625.3, 40) -> (-625.3, 103) projected
  circle A0 centre (-619.3, 80) radius 2.75 projected
  line L1 (-619.3, 80) -> (-616.55, 80)
  point P0 (0, 0)
  point P1 (-589.7, 80)
  dimension "d193" = 35.6
hole "Bohrung4" at (0, 80, -589.7) direction (1, 0, 0) diameter 18.5 end through all
fillet "Rundung4" radius 0.5 12 edges at (2.5, 66.25, -84.15) (2.5, 66.25, -111.15) (2.5, 91.75, -111.15) (2.5, 91.75, -84.15) (2.5, 91.75, -204.15) (2.5, 91.75, -231.15) (2.5, 66.25, -231.15) (2.5, 66.25, -204.15) (2.5, 66.25, -351.15) (2.5, 66.25, -324.15) (2.5, 91.75, -324.15) (2.5, 91.75, -351.15)
sketch "Skizze13" plane through (5, 0, 0) normal (1, 0, 0) x (0, 0, -1)
  line L0 (0, 105) -> (2, 105)
  line L1 (2, 105) -> (2, 53)
  line L2 (2, 53) -> (0, 53)
  line L3 (0, 53) -> (0, 105)
  line L4 (61.4, 105) -> (2, 105) projected
  line L5 (2, 53) -> (32, 53) projected
  line L6 (0, 103) -> (0, 55) projected
  point P0 (0, 0)
  dimension "d205" = 2
extrude "Extrusion8" cut sketch "Skizze13" against normal through all
fillet "Rundung5" radius 2 2 edges at (2.5, 105, -2) (2.5, 53, -2)
properties part number "103.017.01_Wand_Foerderband" material "PMMA-Kunststoff"
